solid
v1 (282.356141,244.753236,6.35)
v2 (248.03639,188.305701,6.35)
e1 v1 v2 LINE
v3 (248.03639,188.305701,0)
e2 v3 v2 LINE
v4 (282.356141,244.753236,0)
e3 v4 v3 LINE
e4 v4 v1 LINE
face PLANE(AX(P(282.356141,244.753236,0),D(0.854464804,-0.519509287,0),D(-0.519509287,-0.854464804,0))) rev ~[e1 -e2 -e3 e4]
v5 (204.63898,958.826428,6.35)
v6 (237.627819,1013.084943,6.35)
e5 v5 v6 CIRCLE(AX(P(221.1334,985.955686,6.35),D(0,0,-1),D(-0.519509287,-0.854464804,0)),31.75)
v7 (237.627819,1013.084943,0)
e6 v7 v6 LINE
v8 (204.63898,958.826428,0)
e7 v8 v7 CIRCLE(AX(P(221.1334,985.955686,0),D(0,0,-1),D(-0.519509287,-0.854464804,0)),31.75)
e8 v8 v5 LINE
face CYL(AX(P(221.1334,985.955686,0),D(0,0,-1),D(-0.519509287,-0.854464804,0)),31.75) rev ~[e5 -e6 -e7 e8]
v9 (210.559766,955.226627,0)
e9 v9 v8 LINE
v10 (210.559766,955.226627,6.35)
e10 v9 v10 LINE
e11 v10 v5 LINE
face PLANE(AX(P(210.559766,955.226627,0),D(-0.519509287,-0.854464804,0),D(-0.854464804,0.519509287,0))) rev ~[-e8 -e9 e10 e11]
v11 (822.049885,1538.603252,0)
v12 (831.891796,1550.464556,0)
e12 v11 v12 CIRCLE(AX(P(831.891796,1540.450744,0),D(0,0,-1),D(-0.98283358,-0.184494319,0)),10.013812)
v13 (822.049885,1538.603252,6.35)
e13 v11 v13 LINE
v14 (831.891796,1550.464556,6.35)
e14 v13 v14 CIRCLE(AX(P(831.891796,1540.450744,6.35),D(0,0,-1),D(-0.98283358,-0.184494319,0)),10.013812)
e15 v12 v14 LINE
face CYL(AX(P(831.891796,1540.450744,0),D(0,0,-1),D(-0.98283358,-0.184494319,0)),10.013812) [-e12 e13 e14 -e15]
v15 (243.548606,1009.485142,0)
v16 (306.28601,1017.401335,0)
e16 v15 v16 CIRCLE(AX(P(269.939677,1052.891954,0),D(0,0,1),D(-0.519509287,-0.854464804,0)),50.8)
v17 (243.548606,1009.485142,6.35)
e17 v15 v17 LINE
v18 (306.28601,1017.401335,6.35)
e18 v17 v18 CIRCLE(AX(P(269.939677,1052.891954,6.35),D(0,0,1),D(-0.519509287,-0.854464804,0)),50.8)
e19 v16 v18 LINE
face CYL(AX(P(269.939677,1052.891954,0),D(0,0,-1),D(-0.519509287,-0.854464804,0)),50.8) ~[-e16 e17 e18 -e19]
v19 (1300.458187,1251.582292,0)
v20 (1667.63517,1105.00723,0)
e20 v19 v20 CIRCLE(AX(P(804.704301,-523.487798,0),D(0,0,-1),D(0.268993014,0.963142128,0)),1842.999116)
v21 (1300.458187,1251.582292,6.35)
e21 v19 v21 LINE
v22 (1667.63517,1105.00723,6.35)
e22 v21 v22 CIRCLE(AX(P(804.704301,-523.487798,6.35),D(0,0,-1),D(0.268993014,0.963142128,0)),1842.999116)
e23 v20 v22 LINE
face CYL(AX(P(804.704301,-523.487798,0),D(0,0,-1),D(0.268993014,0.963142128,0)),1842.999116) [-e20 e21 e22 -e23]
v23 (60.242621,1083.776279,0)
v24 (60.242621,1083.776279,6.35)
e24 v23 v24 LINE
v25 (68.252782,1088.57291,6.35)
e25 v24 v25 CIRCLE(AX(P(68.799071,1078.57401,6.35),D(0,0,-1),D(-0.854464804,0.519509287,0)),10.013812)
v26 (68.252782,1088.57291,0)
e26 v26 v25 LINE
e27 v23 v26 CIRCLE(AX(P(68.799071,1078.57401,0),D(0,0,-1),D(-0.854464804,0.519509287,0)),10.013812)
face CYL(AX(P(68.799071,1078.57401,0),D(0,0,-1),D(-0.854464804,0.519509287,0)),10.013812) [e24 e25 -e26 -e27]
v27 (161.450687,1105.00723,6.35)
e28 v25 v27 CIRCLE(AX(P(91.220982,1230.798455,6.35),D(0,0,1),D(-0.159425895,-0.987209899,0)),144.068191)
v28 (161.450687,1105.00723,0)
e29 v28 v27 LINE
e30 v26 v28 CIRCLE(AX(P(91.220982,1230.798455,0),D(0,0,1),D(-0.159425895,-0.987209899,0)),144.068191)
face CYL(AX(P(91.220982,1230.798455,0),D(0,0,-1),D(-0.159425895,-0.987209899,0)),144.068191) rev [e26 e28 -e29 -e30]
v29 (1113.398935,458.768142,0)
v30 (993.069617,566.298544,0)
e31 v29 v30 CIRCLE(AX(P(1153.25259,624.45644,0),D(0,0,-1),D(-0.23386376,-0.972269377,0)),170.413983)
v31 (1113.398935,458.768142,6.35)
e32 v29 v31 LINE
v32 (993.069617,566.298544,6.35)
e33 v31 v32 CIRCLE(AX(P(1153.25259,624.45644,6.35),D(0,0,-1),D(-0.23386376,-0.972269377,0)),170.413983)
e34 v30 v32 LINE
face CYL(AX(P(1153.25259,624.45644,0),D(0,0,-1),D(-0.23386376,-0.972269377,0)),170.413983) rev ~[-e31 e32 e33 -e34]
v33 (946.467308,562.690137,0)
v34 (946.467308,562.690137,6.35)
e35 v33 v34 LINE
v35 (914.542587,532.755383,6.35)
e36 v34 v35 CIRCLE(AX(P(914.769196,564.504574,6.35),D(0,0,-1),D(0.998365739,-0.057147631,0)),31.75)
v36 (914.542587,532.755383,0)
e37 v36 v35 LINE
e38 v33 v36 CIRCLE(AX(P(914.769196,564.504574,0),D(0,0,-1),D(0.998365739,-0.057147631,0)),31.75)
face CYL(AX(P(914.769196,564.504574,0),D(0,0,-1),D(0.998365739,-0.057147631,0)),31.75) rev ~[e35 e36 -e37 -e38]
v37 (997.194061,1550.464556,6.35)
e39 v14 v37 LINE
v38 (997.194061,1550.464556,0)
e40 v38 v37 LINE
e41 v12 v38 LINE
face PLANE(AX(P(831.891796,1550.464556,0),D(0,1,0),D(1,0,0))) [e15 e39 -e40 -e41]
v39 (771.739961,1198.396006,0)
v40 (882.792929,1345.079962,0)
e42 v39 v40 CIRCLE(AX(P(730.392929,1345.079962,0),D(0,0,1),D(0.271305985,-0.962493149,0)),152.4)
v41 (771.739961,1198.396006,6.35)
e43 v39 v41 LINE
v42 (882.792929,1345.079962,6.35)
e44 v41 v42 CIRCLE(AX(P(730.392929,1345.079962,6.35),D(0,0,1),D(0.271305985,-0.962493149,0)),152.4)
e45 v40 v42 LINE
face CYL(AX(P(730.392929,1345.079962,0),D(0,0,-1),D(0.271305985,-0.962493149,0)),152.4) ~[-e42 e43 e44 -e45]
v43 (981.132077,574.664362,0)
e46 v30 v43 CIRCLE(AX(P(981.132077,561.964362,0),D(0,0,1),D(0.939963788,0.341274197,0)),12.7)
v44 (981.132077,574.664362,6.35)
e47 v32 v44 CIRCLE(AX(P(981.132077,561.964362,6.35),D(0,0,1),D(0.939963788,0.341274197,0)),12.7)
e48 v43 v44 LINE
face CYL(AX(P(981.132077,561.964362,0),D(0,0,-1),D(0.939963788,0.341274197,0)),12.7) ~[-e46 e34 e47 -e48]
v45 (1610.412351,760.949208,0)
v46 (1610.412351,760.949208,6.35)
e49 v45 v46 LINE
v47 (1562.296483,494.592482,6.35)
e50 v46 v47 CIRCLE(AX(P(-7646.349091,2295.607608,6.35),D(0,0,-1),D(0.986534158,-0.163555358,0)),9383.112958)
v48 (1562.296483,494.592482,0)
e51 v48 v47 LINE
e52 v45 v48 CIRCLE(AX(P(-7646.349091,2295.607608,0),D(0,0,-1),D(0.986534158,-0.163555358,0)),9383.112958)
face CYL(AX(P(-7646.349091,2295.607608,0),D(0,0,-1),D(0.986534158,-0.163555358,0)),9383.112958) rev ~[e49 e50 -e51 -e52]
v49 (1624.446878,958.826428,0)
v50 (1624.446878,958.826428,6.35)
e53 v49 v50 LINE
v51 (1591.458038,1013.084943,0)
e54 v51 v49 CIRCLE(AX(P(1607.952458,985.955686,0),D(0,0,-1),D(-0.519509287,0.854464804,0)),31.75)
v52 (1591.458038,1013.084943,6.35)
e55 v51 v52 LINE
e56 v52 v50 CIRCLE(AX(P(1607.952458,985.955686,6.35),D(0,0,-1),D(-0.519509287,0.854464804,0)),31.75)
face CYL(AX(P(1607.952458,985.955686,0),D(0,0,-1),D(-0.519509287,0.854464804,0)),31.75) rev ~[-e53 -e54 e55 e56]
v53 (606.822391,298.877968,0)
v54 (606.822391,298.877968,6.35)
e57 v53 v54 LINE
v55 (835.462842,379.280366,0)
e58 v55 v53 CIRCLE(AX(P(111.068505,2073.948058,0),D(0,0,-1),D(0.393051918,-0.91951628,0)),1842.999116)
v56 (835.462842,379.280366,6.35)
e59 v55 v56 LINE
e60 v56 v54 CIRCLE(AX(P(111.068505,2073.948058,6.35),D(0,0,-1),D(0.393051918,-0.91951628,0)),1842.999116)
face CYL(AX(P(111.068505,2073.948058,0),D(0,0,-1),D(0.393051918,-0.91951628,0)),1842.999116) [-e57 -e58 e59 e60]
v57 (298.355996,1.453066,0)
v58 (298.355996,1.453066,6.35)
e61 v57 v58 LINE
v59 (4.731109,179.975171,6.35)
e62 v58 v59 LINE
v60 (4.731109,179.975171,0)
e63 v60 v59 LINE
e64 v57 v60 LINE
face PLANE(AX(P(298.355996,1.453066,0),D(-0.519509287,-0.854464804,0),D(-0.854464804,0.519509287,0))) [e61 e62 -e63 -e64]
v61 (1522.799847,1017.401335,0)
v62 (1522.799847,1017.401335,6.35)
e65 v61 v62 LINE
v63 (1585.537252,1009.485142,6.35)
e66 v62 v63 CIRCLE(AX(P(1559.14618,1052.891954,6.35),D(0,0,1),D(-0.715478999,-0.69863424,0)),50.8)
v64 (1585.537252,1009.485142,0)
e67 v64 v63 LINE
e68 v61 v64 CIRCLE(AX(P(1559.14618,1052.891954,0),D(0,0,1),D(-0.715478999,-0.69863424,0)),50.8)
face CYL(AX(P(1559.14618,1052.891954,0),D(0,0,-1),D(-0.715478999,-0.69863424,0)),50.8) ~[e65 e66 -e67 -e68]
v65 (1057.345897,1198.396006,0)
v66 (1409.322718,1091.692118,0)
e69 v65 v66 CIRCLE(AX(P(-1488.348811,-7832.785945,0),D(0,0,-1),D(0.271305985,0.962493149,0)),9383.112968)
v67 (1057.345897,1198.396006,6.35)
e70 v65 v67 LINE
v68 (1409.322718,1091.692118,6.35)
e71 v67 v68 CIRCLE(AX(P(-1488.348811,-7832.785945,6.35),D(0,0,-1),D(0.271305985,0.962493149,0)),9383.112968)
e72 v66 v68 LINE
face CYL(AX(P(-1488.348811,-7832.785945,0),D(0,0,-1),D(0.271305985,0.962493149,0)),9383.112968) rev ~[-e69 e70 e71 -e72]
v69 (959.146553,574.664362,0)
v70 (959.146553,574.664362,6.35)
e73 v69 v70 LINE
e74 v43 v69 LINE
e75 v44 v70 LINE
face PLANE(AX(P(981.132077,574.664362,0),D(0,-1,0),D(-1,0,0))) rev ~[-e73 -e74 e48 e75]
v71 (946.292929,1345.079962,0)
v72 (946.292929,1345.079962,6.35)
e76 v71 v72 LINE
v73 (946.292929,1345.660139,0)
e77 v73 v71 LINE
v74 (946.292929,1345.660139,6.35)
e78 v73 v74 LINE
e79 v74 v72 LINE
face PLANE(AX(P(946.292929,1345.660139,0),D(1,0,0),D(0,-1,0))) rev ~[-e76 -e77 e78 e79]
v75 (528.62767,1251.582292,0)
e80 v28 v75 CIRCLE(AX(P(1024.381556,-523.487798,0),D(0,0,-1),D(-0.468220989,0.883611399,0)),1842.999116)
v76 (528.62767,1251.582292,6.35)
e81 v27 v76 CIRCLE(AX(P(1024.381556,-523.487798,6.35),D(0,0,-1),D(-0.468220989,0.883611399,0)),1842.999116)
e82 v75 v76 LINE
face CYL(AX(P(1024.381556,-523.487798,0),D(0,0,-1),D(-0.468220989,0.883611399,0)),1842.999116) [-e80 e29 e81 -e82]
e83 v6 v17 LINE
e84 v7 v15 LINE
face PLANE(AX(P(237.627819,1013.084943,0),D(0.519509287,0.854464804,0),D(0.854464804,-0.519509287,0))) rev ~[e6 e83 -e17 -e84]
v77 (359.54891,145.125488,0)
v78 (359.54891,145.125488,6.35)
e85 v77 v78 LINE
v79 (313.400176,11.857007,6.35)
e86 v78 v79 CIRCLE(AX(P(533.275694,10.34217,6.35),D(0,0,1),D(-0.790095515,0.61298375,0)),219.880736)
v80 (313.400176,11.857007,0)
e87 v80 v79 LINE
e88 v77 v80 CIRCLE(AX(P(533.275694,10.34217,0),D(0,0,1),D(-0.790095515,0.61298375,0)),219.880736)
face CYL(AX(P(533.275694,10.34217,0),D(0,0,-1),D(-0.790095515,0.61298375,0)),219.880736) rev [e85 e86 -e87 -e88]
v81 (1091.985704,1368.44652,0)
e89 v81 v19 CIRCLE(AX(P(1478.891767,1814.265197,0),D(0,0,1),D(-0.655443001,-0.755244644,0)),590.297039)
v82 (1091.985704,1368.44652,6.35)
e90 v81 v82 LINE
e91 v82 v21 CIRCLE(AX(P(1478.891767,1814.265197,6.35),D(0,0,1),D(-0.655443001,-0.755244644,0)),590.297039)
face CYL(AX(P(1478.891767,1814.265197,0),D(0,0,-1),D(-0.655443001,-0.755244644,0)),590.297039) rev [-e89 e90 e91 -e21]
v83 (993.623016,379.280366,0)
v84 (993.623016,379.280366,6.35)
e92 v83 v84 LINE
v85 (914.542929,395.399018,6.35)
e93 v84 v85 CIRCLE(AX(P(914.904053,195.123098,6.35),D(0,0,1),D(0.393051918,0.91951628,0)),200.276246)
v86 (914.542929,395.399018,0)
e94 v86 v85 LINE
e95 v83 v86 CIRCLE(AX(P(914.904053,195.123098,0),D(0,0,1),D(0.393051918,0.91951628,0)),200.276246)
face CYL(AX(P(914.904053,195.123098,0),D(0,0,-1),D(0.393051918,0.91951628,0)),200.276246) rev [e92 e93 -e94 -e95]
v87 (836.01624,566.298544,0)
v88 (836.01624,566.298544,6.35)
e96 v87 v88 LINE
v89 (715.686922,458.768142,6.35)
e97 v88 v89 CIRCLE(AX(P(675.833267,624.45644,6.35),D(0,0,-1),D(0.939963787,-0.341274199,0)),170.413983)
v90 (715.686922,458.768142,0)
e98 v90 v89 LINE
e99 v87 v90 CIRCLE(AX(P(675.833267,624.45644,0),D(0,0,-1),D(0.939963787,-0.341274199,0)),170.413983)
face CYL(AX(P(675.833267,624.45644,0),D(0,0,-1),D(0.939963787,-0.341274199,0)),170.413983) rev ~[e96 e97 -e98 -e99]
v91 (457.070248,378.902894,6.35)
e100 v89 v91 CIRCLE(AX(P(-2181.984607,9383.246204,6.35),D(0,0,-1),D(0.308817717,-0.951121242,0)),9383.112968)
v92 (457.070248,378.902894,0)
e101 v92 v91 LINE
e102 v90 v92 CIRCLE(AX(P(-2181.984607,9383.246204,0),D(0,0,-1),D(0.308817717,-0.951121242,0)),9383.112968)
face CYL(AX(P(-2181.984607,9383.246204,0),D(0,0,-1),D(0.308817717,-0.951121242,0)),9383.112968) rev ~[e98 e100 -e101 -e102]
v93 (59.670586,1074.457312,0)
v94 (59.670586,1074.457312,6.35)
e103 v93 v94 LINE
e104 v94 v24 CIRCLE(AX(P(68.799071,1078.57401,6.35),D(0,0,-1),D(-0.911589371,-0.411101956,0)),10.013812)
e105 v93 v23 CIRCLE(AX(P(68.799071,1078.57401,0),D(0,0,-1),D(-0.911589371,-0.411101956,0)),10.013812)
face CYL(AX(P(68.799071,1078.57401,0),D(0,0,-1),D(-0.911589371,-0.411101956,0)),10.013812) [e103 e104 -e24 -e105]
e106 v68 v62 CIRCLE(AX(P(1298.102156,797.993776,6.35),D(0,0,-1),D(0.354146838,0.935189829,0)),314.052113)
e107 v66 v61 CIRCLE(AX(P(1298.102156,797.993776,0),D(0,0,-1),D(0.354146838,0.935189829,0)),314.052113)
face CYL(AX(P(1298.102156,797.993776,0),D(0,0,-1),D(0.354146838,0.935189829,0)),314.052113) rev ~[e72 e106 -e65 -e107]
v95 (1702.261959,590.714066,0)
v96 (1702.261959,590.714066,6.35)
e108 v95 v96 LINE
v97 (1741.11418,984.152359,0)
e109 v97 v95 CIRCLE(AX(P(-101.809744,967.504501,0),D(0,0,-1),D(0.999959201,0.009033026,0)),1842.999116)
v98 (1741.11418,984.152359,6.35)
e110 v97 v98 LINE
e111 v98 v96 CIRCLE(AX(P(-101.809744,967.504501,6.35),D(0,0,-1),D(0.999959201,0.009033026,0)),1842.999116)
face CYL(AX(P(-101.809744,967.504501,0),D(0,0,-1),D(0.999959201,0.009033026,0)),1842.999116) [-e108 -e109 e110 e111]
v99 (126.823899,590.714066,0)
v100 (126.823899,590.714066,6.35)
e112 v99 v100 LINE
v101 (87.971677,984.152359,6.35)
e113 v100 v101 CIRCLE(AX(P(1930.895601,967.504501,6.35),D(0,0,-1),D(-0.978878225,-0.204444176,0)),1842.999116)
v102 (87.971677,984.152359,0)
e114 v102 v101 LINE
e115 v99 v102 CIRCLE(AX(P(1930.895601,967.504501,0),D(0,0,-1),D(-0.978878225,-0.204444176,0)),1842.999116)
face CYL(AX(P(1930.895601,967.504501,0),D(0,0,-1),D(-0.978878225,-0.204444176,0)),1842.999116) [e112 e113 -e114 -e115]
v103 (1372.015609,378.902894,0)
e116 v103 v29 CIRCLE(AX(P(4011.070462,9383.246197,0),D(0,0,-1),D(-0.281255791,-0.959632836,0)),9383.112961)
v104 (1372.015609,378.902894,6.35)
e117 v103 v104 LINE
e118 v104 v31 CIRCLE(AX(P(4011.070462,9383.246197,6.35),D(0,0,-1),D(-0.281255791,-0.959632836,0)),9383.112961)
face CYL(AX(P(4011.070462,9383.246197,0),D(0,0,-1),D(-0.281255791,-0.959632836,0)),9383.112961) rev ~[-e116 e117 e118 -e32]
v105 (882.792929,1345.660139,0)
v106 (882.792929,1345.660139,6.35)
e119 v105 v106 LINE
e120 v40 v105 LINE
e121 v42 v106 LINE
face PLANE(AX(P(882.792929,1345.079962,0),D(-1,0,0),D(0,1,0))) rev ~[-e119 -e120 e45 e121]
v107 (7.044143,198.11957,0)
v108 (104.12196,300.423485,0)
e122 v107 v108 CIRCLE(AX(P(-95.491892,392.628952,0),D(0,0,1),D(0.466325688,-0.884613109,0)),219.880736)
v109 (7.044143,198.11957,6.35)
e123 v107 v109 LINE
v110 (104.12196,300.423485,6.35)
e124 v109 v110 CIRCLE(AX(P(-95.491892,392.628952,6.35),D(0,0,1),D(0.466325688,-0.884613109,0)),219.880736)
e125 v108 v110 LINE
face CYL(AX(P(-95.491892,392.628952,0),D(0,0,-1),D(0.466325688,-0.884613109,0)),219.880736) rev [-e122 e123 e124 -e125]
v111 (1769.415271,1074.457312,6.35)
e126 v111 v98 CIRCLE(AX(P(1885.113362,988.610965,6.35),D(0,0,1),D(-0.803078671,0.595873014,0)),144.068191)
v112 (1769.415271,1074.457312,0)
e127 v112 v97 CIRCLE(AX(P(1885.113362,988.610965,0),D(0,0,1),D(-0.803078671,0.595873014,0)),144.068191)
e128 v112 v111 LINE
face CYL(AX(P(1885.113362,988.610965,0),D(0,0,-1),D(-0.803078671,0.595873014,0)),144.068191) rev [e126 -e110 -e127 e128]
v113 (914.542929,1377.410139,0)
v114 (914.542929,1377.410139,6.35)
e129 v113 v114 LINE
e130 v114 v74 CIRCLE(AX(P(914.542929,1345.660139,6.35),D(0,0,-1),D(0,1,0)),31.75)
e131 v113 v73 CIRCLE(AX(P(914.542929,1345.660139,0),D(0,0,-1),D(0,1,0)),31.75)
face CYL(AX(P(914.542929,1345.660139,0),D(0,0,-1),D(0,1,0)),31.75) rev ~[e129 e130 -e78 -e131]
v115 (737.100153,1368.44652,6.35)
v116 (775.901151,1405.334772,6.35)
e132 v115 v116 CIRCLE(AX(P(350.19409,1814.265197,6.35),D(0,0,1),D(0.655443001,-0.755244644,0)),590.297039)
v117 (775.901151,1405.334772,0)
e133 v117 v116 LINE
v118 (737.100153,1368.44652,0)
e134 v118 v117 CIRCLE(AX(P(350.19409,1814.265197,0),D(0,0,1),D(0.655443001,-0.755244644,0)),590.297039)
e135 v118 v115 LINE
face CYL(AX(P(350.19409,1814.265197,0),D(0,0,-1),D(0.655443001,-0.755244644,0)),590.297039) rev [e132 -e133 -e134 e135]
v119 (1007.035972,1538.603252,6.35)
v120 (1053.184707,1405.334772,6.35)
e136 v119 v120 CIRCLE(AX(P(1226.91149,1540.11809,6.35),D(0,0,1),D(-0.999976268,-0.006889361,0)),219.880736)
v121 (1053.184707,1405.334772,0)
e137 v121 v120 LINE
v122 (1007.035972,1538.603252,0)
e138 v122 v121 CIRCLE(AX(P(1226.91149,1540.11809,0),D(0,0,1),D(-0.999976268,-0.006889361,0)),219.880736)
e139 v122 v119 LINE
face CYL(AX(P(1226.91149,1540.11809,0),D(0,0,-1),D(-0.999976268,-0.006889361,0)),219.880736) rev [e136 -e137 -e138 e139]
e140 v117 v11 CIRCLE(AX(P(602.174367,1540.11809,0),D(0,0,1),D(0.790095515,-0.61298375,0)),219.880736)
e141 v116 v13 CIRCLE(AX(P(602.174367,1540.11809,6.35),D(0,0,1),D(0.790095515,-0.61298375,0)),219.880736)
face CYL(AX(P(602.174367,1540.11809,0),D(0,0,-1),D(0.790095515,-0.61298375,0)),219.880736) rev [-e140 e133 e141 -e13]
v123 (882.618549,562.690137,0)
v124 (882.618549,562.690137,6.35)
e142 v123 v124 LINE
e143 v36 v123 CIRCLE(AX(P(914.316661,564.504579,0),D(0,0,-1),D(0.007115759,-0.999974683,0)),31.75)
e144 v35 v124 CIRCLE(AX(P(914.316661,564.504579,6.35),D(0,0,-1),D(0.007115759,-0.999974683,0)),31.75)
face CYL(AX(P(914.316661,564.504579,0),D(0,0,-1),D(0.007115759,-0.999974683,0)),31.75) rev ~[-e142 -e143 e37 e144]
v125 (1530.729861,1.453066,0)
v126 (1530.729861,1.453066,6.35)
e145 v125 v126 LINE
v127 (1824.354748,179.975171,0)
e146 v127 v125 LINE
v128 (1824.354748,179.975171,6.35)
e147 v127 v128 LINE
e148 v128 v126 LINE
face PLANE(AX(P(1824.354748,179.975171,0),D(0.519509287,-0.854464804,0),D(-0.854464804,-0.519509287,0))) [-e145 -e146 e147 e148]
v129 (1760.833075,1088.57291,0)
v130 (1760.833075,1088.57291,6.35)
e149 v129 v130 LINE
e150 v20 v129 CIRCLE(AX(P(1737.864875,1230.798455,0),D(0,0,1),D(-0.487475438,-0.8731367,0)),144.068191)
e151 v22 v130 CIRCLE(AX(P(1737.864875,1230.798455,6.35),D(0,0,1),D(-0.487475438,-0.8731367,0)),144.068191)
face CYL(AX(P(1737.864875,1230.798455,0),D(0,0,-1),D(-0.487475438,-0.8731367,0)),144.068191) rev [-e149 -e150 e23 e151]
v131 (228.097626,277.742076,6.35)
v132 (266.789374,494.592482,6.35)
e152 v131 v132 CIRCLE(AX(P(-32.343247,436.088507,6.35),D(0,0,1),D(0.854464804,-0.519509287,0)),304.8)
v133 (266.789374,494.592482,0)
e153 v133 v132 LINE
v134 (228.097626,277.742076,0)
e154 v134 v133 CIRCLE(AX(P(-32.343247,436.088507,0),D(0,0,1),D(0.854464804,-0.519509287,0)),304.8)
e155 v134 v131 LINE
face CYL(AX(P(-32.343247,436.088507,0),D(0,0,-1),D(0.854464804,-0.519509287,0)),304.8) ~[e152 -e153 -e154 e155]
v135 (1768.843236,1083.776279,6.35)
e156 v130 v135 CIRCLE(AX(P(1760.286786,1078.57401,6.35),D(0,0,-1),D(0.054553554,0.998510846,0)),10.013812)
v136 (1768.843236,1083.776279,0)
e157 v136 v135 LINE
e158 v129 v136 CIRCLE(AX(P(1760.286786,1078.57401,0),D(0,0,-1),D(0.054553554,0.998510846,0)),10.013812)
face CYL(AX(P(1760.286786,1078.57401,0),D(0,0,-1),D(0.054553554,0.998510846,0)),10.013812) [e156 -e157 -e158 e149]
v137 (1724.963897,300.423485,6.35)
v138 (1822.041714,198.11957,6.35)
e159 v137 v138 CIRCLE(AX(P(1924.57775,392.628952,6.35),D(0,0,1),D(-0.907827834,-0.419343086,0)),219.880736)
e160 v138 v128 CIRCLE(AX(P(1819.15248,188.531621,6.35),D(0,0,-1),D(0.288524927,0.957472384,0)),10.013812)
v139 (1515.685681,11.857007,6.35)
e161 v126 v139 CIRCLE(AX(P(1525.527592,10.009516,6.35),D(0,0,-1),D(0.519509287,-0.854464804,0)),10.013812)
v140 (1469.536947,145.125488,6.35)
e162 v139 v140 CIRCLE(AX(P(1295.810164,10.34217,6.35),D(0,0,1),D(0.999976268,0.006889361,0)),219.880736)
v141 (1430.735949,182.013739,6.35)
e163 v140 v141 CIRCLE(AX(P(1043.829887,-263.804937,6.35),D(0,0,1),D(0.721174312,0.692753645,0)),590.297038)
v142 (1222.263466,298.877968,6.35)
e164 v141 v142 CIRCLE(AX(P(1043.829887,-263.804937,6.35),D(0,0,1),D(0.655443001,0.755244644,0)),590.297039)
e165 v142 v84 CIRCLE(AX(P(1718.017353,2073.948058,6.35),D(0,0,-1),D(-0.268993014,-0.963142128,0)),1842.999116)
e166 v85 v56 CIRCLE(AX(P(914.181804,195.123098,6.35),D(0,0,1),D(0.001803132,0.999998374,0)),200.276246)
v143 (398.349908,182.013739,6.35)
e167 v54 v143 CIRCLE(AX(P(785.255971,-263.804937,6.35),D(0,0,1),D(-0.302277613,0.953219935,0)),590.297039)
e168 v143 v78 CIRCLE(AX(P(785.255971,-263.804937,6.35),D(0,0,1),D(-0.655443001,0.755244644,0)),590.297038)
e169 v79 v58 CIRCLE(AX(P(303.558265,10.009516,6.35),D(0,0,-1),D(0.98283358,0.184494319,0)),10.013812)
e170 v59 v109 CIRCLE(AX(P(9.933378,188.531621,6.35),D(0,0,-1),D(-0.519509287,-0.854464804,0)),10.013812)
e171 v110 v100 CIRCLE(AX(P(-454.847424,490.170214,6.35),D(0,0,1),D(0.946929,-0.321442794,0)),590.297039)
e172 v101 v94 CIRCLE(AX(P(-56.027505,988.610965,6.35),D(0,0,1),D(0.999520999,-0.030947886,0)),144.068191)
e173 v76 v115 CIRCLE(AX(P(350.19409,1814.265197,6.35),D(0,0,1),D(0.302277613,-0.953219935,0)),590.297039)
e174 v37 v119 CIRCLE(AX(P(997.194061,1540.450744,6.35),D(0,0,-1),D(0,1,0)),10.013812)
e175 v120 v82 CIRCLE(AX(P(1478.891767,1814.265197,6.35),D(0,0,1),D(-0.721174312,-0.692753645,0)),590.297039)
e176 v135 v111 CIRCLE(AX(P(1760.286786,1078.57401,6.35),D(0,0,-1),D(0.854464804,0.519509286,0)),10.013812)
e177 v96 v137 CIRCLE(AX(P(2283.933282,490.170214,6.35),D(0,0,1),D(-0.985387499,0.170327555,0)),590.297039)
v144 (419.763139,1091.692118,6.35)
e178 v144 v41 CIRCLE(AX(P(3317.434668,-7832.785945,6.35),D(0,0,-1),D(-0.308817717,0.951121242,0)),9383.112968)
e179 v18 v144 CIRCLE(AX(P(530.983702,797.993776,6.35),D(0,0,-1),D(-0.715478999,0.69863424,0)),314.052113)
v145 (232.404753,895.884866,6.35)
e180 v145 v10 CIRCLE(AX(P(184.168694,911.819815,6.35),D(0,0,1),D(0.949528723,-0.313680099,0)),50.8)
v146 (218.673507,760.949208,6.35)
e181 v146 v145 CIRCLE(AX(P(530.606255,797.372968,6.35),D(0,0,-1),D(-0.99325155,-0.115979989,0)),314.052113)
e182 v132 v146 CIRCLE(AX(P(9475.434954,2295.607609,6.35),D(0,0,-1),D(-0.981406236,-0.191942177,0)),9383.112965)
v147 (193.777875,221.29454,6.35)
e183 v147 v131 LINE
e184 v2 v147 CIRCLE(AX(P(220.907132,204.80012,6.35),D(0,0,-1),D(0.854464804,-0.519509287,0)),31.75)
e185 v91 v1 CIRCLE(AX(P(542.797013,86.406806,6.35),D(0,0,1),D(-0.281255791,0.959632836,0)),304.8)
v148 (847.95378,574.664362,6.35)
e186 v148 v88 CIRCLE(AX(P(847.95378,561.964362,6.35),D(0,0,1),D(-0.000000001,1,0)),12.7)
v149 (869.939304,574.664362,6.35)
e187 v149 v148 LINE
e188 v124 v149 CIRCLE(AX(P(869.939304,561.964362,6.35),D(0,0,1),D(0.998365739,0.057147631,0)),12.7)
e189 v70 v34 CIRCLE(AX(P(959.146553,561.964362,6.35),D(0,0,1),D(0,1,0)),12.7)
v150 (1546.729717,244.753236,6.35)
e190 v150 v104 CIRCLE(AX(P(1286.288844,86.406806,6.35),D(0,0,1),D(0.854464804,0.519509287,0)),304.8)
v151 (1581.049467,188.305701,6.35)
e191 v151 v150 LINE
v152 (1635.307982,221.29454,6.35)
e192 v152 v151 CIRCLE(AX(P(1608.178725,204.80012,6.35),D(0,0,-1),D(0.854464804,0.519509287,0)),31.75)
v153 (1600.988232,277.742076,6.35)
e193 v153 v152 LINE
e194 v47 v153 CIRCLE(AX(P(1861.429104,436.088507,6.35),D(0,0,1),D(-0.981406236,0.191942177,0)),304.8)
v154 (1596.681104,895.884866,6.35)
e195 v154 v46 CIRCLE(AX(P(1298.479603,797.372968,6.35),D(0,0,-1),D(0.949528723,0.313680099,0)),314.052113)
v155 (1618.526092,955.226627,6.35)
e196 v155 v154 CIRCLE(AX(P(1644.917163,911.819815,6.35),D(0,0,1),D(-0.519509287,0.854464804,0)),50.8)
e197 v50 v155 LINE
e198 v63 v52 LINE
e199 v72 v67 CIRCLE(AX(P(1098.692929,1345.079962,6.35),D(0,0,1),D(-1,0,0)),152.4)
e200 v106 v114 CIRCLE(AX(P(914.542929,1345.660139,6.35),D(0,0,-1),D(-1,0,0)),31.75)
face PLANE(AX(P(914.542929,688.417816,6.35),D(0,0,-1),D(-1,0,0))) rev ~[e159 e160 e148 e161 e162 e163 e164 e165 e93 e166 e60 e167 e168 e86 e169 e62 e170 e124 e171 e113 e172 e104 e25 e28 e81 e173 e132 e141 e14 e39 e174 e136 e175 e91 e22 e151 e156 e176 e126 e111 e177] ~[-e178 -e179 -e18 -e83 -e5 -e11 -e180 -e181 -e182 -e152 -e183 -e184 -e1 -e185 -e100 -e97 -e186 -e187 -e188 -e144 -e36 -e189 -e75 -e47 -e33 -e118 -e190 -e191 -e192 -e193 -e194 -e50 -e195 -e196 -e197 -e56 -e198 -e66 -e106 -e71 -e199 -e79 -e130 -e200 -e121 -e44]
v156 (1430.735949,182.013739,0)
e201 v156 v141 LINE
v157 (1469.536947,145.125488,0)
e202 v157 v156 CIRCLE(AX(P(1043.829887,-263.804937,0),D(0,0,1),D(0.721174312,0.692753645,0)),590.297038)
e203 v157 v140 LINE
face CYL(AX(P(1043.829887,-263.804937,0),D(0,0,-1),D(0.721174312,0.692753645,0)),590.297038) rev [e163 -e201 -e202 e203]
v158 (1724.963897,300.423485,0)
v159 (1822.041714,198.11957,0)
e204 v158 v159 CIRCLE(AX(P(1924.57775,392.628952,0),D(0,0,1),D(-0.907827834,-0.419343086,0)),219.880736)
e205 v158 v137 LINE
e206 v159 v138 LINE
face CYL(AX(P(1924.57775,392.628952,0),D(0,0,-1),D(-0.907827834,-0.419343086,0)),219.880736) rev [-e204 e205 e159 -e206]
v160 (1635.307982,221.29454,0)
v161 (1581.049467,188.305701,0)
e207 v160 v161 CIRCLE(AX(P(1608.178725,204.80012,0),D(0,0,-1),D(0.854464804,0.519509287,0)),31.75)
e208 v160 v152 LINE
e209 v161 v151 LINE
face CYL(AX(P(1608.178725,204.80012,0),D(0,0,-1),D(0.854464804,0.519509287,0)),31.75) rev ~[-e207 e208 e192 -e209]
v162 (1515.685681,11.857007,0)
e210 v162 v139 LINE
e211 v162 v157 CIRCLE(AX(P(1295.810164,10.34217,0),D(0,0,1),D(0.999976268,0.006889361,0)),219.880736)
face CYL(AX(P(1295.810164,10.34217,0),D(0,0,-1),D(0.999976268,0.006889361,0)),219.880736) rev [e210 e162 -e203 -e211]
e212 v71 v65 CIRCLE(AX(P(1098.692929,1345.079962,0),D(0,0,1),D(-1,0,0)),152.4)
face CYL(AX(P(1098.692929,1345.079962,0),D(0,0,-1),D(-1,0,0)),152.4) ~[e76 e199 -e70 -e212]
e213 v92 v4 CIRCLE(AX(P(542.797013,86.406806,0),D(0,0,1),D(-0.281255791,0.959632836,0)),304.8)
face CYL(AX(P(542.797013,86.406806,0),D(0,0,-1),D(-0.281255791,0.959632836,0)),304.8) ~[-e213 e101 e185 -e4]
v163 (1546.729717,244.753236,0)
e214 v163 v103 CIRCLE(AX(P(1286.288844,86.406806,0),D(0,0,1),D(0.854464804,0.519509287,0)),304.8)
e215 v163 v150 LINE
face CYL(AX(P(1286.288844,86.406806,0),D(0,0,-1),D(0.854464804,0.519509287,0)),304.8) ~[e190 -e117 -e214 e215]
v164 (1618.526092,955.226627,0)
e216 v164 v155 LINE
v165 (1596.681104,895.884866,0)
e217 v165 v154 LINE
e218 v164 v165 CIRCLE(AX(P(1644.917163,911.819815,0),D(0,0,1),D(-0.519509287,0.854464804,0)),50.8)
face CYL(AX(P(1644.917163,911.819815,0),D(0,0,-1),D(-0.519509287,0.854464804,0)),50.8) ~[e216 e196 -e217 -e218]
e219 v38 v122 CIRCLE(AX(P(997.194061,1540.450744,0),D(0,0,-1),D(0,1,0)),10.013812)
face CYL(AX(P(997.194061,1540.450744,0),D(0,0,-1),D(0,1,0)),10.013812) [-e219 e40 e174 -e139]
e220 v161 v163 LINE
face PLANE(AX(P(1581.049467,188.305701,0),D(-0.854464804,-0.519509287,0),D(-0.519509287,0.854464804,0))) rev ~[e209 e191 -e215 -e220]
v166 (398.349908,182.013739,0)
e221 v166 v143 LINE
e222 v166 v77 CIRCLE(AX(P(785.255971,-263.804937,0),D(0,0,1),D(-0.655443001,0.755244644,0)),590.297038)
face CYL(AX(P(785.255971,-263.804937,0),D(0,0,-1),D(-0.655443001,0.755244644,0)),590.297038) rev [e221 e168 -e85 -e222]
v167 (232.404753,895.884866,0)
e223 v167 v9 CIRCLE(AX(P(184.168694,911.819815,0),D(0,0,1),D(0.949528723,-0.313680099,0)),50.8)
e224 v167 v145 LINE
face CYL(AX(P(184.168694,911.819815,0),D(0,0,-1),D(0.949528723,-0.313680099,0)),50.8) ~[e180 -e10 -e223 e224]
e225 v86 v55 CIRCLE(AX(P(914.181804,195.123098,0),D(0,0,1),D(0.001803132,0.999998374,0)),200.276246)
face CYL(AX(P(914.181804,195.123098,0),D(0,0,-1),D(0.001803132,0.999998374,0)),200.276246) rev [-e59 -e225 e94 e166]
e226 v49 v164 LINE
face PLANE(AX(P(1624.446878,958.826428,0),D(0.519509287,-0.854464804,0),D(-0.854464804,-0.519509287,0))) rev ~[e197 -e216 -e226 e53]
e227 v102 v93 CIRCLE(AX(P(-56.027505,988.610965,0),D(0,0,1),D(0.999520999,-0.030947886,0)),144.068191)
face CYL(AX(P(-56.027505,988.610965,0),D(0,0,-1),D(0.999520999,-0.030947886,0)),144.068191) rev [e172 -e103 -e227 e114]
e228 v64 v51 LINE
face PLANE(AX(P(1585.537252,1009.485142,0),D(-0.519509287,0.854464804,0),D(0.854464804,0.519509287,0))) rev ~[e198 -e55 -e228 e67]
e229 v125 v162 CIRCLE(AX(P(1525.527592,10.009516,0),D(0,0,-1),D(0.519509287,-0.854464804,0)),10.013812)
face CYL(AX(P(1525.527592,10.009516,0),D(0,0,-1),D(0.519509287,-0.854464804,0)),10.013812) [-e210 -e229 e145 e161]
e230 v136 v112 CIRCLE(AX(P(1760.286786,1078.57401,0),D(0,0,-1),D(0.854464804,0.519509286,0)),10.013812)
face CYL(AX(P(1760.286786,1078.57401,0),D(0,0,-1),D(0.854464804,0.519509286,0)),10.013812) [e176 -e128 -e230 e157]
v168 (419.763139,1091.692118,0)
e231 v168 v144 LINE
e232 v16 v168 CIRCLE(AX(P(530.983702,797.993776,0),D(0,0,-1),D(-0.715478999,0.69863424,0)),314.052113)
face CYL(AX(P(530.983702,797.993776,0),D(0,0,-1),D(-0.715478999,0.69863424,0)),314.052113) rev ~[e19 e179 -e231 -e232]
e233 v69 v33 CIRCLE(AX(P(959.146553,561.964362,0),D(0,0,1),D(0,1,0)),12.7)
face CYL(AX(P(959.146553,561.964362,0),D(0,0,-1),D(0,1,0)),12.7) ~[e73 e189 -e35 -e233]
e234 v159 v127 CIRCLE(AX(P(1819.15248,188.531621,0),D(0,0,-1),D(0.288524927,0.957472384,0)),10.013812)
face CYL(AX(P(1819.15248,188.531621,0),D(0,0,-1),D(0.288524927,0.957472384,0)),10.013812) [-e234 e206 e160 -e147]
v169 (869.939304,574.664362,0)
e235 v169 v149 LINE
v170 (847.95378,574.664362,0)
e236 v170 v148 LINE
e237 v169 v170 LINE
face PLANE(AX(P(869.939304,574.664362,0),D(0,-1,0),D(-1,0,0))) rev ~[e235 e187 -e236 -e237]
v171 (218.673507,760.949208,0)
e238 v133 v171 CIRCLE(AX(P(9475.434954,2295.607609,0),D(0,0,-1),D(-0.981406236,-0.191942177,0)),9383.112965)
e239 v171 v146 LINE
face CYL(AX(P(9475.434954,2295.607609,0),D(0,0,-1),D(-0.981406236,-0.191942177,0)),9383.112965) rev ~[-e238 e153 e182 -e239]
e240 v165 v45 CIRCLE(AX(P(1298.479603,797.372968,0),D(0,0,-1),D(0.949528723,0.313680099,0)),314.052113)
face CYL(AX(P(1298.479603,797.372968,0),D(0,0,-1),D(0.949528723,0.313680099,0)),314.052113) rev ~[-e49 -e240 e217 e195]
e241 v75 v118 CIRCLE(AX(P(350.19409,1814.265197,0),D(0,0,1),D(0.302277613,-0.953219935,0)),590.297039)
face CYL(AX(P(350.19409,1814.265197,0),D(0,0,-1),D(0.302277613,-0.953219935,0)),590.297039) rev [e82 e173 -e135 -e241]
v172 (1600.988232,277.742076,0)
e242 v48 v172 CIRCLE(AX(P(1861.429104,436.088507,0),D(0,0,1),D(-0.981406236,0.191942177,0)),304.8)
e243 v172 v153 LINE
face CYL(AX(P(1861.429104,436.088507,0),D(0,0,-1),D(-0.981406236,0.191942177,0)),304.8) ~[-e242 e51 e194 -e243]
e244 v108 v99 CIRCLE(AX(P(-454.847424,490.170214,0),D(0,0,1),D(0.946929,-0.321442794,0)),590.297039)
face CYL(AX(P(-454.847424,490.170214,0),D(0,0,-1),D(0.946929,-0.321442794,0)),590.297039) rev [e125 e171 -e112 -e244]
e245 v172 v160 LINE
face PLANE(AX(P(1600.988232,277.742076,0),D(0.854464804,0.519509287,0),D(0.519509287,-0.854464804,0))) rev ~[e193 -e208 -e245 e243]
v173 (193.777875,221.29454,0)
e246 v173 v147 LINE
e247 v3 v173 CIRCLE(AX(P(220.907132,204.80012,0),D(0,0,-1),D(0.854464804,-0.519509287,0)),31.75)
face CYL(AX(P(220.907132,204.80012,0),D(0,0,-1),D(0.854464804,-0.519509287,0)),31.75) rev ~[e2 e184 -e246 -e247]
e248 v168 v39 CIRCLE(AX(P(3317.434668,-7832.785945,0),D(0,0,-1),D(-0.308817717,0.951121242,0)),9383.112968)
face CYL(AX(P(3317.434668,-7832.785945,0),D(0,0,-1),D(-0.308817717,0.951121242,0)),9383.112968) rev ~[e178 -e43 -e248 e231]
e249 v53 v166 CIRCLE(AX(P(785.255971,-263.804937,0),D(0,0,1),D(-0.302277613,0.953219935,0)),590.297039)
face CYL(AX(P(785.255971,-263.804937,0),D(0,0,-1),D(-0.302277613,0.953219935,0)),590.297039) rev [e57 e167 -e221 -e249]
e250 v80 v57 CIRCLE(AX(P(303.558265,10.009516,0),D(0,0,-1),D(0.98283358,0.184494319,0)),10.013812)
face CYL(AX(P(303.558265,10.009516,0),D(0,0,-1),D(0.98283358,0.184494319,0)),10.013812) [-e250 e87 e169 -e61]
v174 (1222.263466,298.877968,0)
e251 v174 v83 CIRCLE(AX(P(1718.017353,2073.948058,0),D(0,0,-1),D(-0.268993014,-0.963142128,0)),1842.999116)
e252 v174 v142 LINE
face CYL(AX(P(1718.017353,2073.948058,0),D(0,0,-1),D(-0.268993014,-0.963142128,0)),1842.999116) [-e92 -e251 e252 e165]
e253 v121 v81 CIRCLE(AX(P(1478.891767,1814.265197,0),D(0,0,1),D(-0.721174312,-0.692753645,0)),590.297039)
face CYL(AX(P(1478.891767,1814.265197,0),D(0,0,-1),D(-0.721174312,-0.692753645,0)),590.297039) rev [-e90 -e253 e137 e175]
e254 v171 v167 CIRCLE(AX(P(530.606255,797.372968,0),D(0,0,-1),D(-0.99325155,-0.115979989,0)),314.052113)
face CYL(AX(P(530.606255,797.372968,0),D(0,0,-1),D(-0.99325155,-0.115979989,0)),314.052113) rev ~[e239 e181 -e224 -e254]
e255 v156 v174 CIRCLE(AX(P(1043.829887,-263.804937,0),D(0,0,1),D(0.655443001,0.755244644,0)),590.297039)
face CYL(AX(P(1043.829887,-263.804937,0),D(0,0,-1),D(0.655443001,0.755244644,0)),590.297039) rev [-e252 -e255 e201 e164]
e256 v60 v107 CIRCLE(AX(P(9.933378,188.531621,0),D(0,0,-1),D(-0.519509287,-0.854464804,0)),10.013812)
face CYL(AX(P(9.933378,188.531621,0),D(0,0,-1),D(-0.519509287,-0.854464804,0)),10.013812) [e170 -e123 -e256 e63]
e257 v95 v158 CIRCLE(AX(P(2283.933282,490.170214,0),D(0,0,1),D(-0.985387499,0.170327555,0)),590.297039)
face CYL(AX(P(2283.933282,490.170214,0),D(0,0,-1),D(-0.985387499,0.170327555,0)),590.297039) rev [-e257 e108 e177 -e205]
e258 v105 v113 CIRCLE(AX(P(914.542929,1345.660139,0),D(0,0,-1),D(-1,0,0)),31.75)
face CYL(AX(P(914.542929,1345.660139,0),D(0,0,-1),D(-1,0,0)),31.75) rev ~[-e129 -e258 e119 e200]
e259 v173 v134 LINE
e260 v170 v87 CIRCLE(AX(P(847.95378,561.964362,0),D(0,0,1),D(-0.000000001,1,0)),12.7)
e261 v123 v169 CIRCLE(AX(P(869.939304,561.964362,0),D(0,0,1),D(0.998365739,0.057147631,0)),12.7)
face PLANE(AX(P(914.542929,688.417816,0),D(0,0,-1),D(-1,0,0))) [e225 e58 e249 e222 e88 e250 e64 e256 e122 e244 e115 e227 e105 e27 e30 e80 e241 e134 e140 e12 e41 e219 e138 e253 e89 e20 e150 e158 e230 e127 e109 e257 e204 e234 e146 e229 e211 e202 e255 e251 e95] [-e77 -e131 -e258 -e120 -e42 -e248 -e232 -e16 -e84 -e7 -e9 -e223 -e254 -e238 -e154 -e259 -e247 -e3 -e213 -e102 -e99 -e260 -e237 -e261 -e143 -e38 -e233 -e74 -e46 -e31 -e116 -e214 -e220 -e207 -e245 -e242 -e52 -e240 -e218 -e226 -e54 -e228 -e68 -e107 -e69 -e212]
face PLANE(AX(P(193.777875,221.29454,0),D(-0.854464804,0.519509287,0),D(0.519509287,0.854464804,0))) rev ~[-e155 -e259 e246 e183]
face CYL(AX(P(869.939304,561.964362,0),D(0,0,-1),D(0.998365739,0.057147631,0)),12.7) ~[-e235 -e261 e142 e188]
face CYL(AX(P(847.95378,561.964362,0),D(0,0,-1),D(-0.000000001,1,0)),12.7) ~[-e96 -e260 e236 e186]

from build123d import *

# Parameters (mm, degrees)
BOSS_EXTRUDE1_DEPTH = 6.35


with BuildPart() as part:
    # Model → Boss-Extrude1 (new body)
    with BuildSketch(Plane.XY):
        with BuildLine():
            Line((4.731109074, 179.975171138), (151.543552764, 90.714118443))
            Line((151.543552764, 90.714118443), (298.355996454, 1.453065748))
            ThreePointArc((298.355996454, 1.453065748), (309.25405907, 1.773353837), (313.400175898, 11.857007366))
            ThreePointArc((313.400175898, 11.857007366), (325.499817287, 82.291618906), (359.548910429, 145.125487805))
            ThreePointArc((359.548910429, 145.125487805), (378.530992835, 164.009725995), (398.349908157, 182.013739434))
            ThreePointArc((398.349908157, 182.013739434), (496.609924919, 251.106758089), (606.822390935, 298.877967575))
            ThreePointArc((606.822390935, 298.877967575), (722.465722657, 335.316646957), (835.462841761, 379.280366099))
            ThreePointArc((835.462841761, 379.280366099), (874.182548891, 391.364362796), (914.542928671, 395.39901772))
            ThreePointArc((914.542928671, 395.39901772), (954.903308451, 391.364362796), (993.62301558, 379.280366099))
            ThreePointArc((993.62301558, 379.280366099), (1106.620134686, 335.316646956), (1222.26346641, 298.877967574))
            ThreePointArc((1222.26346641, 298.877967574), (1332.475932423, 251.106758088), (1430.735949184, 182.013739434))
            ThreePointArc((1430.735949184, 182.013739434), (1450.554864506, 164.009725995), (1469.536946912, 145.125487805))
            ThreePointArc((1469.536946912, 145.125487805), (1503.586040054, 82.291618906), (1515.685681443, 11.857007366))
            ThreePointArc((1515.685681443, 11.857007366), (1519.831798271, 1.773353837), (1530.729860887, 1.453065748))
            Line((1530.729860887, 1.453065748), (1677.542304577, 90.714118443))
            Line((1677.542304577, 90.714118443), (1824.354748267, 179.975171138))
            ThreePointArc((1824.354748267, 179.975171138), (1829.085903545, 189.797926504), (1822.041714251, 198.119569997))
            ThreePointArc((1822.041714251, 198.119569997), (1765.078027346, 241.277120886), (1724.963897376, 300.423485114))
            ThreePointArc((1724.963897376, 300.423485114), (1695.433102398, 444.147036942), (1702.261958811, 590.714065711))
            ThreePointArc((1702.261958811, 590.714065711), (1732.268416352, 786.388398141), (1741.114180038, 984.152359294))
            ThreePointArc((1741.114180038, 984.152359294), (1747.638220475, 1031.694941858), (1769.415270954, 1074.457312383))
            ThreePointArc((1769.415270954, 1074.457312383), (1770.281785592, 1079.18754246), (1768.843236262, 1083.776278673))
            ThreePointArc((1768.843236262, 1083.776278673), (1765.431383684, 1087.165258783), (1760.833075168, 1088.572910369))
            ThreePointArc((1760.833075168, 1088.572910369), (1712.84619872, 1088.919247204), (1667.635170438, 1105.00722974))
            ThreePointArc((1667.635170438, 1105.00722974), (1487.988377024, 1188.168888466), (1300.458187217, 1251.582292231))
            ThreePointArc((1300.458187217, 1251.582292231), (1190.245721199, 1299.353501718), (1091.985704435, 1368.446520373))
            ThreePointArc((1091.985704435, 1368.446520373), (1072.166789113, 1386.450533813), (1053.184706708, 1405.334772002))
            ThreePointArc((1053.184706708, 1405.334772002), (1019.135613566, 1468.168640901), (1007.035972176, 1538.603252442))
            ThreePointArc((1007.035972176, 1538.603252442), (1004.900450409, 1546.845116579), (997.194061205, 1550.464556193))
            Line((997.194061205, 1550.464556193), (914.542928671, 1550.464556193))
            Line((914.542928671, 1550.464556193), (831.891796136, 1550.464556193))
            ThreePointArc((831.891796136, 1550.464556193), (824.185406932, 1546.845116579), (822.049885165, 1538.603252442))
            ThreePointArc((822.049885165, 1538.603252442), (809.950243775, 1468.168640901), (775.901150633, 1405.334772002))
            ThreePointArc((775.901150633, 1405.334772002), (756.919068228, 1386.450533813), (737.100152906, 1368.446520373))
            ThreePointArc((737.100152906, 1368.446520373), (638.840136142, 1299.353501718), (528.627670124, 1251.582292231))
            ThreePointArc((528.627670124, 1251.582292231), (341.097480319, 1188.168888466), (161.450686905, 1105.007229742))
            ThreePointArc((161.450686905, 1105.007229742), (116.239658622, 1088.919247204), (68.252782173, 1088.572910369))
            ThreePointArc((68.252782173, 1088.572910369), (63.654473657, 1087.165258783), (60.242621079, 1083.776278673))
            ThreePointArc((60.242621079, 1083.776278673), (58.804071749, 1079.18754246), (59.670586387, 1074.457312383))
            ThreePointArc((59.670586387, 1074.457312383), (81.447636866, 1031.694941858), (87.971677303, 984.152359294))
            ThreePointArc((87.971677303, 984.152359294), (96.817440989, 786.388398141), (126.82389853, 590.714065711))
            ThreePointArc((126.82389853, 590.714065711), (133.652754943, 444.147036942), (104.121959965, 300.423485114))
            ThreePointArc((104.121959965, 300.423485114), (64.007829995, 241.277120886), (7.04414309, 198.119569997))
            ThreePointArc((7.04414309, 198.119569997), (-4.6204e-05, 189.797926504), (4.731109074, 179.975171138))
        make_face()
        with BuildLine():
            ThreePointArc((248.036389916, 188.305700503), (204.412712542, 177.670862829), (193.777874867, 221.294540203))
            Line((193.777874867, 221.294540203), (228.097625685, 277.742076191))
            ThreePointArc((228.097625685, 277.742076191), (267.717827548, 382.549812212), (266.789374301, 494.592482209))
            ThreePointArc((266.789374301, 494.592482209), (241.770965978, 627.59734054), (218.673506786, 760.949207694))
            ThreePointArc((218.673506786, 760.949207694), (218.167687021, 829.167165589), (232.404753167, 895.884866243))
            ThreePointArc((232.404753167, 895.884866243), (231.841152746, 929.369079724), (210.559765814, 955.226627329))
            Line((210.559765814, 955.226627329), (204.638979738, 958.826428441))
            ThreePointArc((204.638979738, 958.826428441), (194.004142064, 1002.450105815), (237.627819438, 1013.084943489))
            Line((237.627819438, 1013.084943489), (243.548605514, 1009.485142378))
            ThreePointArc((243.548605514, 1009.485142378), (276.299184629, 1002.491590666), (306.286010429, 1017.401335007))
            ThreePointArc((306.286010429, 1017.401335007), (358.96611995, 1060.745904377), (419.763138988, 1091.692117541))
            ThreePointArc((419.763138988, 1091.692117541), (595.228682895, 1146.768807529), (771.739960804, 1198.39600627))
            ThreePointArc((771.739960804, 1198.39600627), (851.898170732, 1253.089548855), (882.79292867, 1345.079962222))
            Line((882.79292867, 1345.079962222), (882.79292867, 1345.660139454))
            ThreePointArc((882.79292867, 1345.660139454), (892.092288368, 1368.110779757), (914.542928671, 1377.410139455))
            ThreePointArc((914.542928671, 1377.410139455), (936.993568973, 1368.110779757), (946.292928671, 1345.660139454))
            Line((946.292928671, 1345.660139454), (946.292928671, 1345.079962222))
            ThreePointArc((946.292928671, 1345.079962222), (977.187686609, 1253.089548855), (1057.345896537, 1198.39600627))
            ThreePointArc((1057.345896537, 1198.39600627), (1233.857174446, 1146.768807529), (1409.322718353, 1091.692117541))
            ThreePointArc((1409.322718353, 1091.692117541), (1470.119737391, 1060.745904377), (1522.799846912, 1017.401335006))
            ThreePointArc((1522.799846912, 1017.401335006), (1552.786672713, 1002.491590666), (1585.537251828, 1009.485142378))
            Line((1585.537251828, 1009.485142378), (1591.458037903, 1013.084943489))
            ThreePointArc((1591.458037903, 1013.084943489), (1635.081715277, 1002.450105815), (1624.446877603, 958.826428441))
            Line((1624.446877603, 958.826428441), (1618.526091527, 955.226627329))
            ThreePointArc((1618.526091527, 955.226627329), (1597.244704595, 929.369079725), (1596.681104174, 895.884866243))
            ThreePointArc((1596.681104174, 895.884866243), (1610.91817032, 829.167165589), (1610.412350555, 760.949207694))
            ThreePointArc((1610.412350555, 760.949207694), (1587.314891364, 627.597340544), (1562.296483041, 494.592482218))
            ThreePointArc((1562.296483041, 494.592482218), (1561.368029793, 382.549812216), (1600.988231656, 277.742076191))
            Line((1600.988231656, 277.742076191), (1635.307982474, 221.294540203))
            ThreePointArc((1635.307982474, 221.294540203), (1624.673144799, 177.670862829), (1581.049467425, 188.305700503))
            Line((1581.049467425, 188.305700503), (1546.729716607, 244.753236491))
            ThreePointArc((1546.729716607, 244.753236491), (1471.914922649, 328.162879411), (1372.015609312, 378.902894406))
            ThreePointArc((1372.015609312, 378.902894406), (1242.41928054, 417.90295417), (1113.398935267, 458.768142267))
            ThreePointArc((1113.398935267, 458.768142267), (1039.69925486, 497.387302002), (993.069617081, 566.298543982))
            ThreePointArc((993.069617081, 566.298543982), (988.420625685, 572.364700975), (981.132076965, 574.664361651))
            Line((981.132076965, 574.664361651), (959.146552953, 574.664361651))
            ThreePointArc((959.146552953, 574.664361651), (950.426671687, 571.197653085), (946.467308072, 562.690136563))
            ThreePointArc((946.467308072, 562.690136563), (936.486383713, 541.343696224), (914.542586541, 532.755382542))
            ThreePointArc((914.542586541, 532.755382542), (892.599225651, 541.343933359), (882.618549269, 562.690136563))
            ThreePointArc((882.618549269, 562.690136563), (878.659185654, 571.197653084), (869.939304388, 574.664361651))
            Line((869.939304388, 574.664361651), (847.953780376, 574.664361651))
            ThreePointArc((847.953780376, 574.664361651), (840.665231667, 572.364700959), (836.01624026, 566.298543983))
            ThreePointArc((836.01624026, 566.298543983), (789.386602481, 497.387302002), (715.686922074, 458.768142267))
            ThreePointArc((715.686922074, 458.768142267), (586.666576793, 417.902954168), (457.070248014, 378.902894401))
            ThreePointArc((457.070248014, 378.902894401), (357.170934686, 328.162879406), (282.356140734, 244.753236492))
            Line((282.356140734, 244.753236492), (248.036389916, 188.305700503))
        make_face(mode=Mode.SUBTRACT)
    extrude(amount=BOSS_EXTRUDE1_DEPTH)


solid = part.part
